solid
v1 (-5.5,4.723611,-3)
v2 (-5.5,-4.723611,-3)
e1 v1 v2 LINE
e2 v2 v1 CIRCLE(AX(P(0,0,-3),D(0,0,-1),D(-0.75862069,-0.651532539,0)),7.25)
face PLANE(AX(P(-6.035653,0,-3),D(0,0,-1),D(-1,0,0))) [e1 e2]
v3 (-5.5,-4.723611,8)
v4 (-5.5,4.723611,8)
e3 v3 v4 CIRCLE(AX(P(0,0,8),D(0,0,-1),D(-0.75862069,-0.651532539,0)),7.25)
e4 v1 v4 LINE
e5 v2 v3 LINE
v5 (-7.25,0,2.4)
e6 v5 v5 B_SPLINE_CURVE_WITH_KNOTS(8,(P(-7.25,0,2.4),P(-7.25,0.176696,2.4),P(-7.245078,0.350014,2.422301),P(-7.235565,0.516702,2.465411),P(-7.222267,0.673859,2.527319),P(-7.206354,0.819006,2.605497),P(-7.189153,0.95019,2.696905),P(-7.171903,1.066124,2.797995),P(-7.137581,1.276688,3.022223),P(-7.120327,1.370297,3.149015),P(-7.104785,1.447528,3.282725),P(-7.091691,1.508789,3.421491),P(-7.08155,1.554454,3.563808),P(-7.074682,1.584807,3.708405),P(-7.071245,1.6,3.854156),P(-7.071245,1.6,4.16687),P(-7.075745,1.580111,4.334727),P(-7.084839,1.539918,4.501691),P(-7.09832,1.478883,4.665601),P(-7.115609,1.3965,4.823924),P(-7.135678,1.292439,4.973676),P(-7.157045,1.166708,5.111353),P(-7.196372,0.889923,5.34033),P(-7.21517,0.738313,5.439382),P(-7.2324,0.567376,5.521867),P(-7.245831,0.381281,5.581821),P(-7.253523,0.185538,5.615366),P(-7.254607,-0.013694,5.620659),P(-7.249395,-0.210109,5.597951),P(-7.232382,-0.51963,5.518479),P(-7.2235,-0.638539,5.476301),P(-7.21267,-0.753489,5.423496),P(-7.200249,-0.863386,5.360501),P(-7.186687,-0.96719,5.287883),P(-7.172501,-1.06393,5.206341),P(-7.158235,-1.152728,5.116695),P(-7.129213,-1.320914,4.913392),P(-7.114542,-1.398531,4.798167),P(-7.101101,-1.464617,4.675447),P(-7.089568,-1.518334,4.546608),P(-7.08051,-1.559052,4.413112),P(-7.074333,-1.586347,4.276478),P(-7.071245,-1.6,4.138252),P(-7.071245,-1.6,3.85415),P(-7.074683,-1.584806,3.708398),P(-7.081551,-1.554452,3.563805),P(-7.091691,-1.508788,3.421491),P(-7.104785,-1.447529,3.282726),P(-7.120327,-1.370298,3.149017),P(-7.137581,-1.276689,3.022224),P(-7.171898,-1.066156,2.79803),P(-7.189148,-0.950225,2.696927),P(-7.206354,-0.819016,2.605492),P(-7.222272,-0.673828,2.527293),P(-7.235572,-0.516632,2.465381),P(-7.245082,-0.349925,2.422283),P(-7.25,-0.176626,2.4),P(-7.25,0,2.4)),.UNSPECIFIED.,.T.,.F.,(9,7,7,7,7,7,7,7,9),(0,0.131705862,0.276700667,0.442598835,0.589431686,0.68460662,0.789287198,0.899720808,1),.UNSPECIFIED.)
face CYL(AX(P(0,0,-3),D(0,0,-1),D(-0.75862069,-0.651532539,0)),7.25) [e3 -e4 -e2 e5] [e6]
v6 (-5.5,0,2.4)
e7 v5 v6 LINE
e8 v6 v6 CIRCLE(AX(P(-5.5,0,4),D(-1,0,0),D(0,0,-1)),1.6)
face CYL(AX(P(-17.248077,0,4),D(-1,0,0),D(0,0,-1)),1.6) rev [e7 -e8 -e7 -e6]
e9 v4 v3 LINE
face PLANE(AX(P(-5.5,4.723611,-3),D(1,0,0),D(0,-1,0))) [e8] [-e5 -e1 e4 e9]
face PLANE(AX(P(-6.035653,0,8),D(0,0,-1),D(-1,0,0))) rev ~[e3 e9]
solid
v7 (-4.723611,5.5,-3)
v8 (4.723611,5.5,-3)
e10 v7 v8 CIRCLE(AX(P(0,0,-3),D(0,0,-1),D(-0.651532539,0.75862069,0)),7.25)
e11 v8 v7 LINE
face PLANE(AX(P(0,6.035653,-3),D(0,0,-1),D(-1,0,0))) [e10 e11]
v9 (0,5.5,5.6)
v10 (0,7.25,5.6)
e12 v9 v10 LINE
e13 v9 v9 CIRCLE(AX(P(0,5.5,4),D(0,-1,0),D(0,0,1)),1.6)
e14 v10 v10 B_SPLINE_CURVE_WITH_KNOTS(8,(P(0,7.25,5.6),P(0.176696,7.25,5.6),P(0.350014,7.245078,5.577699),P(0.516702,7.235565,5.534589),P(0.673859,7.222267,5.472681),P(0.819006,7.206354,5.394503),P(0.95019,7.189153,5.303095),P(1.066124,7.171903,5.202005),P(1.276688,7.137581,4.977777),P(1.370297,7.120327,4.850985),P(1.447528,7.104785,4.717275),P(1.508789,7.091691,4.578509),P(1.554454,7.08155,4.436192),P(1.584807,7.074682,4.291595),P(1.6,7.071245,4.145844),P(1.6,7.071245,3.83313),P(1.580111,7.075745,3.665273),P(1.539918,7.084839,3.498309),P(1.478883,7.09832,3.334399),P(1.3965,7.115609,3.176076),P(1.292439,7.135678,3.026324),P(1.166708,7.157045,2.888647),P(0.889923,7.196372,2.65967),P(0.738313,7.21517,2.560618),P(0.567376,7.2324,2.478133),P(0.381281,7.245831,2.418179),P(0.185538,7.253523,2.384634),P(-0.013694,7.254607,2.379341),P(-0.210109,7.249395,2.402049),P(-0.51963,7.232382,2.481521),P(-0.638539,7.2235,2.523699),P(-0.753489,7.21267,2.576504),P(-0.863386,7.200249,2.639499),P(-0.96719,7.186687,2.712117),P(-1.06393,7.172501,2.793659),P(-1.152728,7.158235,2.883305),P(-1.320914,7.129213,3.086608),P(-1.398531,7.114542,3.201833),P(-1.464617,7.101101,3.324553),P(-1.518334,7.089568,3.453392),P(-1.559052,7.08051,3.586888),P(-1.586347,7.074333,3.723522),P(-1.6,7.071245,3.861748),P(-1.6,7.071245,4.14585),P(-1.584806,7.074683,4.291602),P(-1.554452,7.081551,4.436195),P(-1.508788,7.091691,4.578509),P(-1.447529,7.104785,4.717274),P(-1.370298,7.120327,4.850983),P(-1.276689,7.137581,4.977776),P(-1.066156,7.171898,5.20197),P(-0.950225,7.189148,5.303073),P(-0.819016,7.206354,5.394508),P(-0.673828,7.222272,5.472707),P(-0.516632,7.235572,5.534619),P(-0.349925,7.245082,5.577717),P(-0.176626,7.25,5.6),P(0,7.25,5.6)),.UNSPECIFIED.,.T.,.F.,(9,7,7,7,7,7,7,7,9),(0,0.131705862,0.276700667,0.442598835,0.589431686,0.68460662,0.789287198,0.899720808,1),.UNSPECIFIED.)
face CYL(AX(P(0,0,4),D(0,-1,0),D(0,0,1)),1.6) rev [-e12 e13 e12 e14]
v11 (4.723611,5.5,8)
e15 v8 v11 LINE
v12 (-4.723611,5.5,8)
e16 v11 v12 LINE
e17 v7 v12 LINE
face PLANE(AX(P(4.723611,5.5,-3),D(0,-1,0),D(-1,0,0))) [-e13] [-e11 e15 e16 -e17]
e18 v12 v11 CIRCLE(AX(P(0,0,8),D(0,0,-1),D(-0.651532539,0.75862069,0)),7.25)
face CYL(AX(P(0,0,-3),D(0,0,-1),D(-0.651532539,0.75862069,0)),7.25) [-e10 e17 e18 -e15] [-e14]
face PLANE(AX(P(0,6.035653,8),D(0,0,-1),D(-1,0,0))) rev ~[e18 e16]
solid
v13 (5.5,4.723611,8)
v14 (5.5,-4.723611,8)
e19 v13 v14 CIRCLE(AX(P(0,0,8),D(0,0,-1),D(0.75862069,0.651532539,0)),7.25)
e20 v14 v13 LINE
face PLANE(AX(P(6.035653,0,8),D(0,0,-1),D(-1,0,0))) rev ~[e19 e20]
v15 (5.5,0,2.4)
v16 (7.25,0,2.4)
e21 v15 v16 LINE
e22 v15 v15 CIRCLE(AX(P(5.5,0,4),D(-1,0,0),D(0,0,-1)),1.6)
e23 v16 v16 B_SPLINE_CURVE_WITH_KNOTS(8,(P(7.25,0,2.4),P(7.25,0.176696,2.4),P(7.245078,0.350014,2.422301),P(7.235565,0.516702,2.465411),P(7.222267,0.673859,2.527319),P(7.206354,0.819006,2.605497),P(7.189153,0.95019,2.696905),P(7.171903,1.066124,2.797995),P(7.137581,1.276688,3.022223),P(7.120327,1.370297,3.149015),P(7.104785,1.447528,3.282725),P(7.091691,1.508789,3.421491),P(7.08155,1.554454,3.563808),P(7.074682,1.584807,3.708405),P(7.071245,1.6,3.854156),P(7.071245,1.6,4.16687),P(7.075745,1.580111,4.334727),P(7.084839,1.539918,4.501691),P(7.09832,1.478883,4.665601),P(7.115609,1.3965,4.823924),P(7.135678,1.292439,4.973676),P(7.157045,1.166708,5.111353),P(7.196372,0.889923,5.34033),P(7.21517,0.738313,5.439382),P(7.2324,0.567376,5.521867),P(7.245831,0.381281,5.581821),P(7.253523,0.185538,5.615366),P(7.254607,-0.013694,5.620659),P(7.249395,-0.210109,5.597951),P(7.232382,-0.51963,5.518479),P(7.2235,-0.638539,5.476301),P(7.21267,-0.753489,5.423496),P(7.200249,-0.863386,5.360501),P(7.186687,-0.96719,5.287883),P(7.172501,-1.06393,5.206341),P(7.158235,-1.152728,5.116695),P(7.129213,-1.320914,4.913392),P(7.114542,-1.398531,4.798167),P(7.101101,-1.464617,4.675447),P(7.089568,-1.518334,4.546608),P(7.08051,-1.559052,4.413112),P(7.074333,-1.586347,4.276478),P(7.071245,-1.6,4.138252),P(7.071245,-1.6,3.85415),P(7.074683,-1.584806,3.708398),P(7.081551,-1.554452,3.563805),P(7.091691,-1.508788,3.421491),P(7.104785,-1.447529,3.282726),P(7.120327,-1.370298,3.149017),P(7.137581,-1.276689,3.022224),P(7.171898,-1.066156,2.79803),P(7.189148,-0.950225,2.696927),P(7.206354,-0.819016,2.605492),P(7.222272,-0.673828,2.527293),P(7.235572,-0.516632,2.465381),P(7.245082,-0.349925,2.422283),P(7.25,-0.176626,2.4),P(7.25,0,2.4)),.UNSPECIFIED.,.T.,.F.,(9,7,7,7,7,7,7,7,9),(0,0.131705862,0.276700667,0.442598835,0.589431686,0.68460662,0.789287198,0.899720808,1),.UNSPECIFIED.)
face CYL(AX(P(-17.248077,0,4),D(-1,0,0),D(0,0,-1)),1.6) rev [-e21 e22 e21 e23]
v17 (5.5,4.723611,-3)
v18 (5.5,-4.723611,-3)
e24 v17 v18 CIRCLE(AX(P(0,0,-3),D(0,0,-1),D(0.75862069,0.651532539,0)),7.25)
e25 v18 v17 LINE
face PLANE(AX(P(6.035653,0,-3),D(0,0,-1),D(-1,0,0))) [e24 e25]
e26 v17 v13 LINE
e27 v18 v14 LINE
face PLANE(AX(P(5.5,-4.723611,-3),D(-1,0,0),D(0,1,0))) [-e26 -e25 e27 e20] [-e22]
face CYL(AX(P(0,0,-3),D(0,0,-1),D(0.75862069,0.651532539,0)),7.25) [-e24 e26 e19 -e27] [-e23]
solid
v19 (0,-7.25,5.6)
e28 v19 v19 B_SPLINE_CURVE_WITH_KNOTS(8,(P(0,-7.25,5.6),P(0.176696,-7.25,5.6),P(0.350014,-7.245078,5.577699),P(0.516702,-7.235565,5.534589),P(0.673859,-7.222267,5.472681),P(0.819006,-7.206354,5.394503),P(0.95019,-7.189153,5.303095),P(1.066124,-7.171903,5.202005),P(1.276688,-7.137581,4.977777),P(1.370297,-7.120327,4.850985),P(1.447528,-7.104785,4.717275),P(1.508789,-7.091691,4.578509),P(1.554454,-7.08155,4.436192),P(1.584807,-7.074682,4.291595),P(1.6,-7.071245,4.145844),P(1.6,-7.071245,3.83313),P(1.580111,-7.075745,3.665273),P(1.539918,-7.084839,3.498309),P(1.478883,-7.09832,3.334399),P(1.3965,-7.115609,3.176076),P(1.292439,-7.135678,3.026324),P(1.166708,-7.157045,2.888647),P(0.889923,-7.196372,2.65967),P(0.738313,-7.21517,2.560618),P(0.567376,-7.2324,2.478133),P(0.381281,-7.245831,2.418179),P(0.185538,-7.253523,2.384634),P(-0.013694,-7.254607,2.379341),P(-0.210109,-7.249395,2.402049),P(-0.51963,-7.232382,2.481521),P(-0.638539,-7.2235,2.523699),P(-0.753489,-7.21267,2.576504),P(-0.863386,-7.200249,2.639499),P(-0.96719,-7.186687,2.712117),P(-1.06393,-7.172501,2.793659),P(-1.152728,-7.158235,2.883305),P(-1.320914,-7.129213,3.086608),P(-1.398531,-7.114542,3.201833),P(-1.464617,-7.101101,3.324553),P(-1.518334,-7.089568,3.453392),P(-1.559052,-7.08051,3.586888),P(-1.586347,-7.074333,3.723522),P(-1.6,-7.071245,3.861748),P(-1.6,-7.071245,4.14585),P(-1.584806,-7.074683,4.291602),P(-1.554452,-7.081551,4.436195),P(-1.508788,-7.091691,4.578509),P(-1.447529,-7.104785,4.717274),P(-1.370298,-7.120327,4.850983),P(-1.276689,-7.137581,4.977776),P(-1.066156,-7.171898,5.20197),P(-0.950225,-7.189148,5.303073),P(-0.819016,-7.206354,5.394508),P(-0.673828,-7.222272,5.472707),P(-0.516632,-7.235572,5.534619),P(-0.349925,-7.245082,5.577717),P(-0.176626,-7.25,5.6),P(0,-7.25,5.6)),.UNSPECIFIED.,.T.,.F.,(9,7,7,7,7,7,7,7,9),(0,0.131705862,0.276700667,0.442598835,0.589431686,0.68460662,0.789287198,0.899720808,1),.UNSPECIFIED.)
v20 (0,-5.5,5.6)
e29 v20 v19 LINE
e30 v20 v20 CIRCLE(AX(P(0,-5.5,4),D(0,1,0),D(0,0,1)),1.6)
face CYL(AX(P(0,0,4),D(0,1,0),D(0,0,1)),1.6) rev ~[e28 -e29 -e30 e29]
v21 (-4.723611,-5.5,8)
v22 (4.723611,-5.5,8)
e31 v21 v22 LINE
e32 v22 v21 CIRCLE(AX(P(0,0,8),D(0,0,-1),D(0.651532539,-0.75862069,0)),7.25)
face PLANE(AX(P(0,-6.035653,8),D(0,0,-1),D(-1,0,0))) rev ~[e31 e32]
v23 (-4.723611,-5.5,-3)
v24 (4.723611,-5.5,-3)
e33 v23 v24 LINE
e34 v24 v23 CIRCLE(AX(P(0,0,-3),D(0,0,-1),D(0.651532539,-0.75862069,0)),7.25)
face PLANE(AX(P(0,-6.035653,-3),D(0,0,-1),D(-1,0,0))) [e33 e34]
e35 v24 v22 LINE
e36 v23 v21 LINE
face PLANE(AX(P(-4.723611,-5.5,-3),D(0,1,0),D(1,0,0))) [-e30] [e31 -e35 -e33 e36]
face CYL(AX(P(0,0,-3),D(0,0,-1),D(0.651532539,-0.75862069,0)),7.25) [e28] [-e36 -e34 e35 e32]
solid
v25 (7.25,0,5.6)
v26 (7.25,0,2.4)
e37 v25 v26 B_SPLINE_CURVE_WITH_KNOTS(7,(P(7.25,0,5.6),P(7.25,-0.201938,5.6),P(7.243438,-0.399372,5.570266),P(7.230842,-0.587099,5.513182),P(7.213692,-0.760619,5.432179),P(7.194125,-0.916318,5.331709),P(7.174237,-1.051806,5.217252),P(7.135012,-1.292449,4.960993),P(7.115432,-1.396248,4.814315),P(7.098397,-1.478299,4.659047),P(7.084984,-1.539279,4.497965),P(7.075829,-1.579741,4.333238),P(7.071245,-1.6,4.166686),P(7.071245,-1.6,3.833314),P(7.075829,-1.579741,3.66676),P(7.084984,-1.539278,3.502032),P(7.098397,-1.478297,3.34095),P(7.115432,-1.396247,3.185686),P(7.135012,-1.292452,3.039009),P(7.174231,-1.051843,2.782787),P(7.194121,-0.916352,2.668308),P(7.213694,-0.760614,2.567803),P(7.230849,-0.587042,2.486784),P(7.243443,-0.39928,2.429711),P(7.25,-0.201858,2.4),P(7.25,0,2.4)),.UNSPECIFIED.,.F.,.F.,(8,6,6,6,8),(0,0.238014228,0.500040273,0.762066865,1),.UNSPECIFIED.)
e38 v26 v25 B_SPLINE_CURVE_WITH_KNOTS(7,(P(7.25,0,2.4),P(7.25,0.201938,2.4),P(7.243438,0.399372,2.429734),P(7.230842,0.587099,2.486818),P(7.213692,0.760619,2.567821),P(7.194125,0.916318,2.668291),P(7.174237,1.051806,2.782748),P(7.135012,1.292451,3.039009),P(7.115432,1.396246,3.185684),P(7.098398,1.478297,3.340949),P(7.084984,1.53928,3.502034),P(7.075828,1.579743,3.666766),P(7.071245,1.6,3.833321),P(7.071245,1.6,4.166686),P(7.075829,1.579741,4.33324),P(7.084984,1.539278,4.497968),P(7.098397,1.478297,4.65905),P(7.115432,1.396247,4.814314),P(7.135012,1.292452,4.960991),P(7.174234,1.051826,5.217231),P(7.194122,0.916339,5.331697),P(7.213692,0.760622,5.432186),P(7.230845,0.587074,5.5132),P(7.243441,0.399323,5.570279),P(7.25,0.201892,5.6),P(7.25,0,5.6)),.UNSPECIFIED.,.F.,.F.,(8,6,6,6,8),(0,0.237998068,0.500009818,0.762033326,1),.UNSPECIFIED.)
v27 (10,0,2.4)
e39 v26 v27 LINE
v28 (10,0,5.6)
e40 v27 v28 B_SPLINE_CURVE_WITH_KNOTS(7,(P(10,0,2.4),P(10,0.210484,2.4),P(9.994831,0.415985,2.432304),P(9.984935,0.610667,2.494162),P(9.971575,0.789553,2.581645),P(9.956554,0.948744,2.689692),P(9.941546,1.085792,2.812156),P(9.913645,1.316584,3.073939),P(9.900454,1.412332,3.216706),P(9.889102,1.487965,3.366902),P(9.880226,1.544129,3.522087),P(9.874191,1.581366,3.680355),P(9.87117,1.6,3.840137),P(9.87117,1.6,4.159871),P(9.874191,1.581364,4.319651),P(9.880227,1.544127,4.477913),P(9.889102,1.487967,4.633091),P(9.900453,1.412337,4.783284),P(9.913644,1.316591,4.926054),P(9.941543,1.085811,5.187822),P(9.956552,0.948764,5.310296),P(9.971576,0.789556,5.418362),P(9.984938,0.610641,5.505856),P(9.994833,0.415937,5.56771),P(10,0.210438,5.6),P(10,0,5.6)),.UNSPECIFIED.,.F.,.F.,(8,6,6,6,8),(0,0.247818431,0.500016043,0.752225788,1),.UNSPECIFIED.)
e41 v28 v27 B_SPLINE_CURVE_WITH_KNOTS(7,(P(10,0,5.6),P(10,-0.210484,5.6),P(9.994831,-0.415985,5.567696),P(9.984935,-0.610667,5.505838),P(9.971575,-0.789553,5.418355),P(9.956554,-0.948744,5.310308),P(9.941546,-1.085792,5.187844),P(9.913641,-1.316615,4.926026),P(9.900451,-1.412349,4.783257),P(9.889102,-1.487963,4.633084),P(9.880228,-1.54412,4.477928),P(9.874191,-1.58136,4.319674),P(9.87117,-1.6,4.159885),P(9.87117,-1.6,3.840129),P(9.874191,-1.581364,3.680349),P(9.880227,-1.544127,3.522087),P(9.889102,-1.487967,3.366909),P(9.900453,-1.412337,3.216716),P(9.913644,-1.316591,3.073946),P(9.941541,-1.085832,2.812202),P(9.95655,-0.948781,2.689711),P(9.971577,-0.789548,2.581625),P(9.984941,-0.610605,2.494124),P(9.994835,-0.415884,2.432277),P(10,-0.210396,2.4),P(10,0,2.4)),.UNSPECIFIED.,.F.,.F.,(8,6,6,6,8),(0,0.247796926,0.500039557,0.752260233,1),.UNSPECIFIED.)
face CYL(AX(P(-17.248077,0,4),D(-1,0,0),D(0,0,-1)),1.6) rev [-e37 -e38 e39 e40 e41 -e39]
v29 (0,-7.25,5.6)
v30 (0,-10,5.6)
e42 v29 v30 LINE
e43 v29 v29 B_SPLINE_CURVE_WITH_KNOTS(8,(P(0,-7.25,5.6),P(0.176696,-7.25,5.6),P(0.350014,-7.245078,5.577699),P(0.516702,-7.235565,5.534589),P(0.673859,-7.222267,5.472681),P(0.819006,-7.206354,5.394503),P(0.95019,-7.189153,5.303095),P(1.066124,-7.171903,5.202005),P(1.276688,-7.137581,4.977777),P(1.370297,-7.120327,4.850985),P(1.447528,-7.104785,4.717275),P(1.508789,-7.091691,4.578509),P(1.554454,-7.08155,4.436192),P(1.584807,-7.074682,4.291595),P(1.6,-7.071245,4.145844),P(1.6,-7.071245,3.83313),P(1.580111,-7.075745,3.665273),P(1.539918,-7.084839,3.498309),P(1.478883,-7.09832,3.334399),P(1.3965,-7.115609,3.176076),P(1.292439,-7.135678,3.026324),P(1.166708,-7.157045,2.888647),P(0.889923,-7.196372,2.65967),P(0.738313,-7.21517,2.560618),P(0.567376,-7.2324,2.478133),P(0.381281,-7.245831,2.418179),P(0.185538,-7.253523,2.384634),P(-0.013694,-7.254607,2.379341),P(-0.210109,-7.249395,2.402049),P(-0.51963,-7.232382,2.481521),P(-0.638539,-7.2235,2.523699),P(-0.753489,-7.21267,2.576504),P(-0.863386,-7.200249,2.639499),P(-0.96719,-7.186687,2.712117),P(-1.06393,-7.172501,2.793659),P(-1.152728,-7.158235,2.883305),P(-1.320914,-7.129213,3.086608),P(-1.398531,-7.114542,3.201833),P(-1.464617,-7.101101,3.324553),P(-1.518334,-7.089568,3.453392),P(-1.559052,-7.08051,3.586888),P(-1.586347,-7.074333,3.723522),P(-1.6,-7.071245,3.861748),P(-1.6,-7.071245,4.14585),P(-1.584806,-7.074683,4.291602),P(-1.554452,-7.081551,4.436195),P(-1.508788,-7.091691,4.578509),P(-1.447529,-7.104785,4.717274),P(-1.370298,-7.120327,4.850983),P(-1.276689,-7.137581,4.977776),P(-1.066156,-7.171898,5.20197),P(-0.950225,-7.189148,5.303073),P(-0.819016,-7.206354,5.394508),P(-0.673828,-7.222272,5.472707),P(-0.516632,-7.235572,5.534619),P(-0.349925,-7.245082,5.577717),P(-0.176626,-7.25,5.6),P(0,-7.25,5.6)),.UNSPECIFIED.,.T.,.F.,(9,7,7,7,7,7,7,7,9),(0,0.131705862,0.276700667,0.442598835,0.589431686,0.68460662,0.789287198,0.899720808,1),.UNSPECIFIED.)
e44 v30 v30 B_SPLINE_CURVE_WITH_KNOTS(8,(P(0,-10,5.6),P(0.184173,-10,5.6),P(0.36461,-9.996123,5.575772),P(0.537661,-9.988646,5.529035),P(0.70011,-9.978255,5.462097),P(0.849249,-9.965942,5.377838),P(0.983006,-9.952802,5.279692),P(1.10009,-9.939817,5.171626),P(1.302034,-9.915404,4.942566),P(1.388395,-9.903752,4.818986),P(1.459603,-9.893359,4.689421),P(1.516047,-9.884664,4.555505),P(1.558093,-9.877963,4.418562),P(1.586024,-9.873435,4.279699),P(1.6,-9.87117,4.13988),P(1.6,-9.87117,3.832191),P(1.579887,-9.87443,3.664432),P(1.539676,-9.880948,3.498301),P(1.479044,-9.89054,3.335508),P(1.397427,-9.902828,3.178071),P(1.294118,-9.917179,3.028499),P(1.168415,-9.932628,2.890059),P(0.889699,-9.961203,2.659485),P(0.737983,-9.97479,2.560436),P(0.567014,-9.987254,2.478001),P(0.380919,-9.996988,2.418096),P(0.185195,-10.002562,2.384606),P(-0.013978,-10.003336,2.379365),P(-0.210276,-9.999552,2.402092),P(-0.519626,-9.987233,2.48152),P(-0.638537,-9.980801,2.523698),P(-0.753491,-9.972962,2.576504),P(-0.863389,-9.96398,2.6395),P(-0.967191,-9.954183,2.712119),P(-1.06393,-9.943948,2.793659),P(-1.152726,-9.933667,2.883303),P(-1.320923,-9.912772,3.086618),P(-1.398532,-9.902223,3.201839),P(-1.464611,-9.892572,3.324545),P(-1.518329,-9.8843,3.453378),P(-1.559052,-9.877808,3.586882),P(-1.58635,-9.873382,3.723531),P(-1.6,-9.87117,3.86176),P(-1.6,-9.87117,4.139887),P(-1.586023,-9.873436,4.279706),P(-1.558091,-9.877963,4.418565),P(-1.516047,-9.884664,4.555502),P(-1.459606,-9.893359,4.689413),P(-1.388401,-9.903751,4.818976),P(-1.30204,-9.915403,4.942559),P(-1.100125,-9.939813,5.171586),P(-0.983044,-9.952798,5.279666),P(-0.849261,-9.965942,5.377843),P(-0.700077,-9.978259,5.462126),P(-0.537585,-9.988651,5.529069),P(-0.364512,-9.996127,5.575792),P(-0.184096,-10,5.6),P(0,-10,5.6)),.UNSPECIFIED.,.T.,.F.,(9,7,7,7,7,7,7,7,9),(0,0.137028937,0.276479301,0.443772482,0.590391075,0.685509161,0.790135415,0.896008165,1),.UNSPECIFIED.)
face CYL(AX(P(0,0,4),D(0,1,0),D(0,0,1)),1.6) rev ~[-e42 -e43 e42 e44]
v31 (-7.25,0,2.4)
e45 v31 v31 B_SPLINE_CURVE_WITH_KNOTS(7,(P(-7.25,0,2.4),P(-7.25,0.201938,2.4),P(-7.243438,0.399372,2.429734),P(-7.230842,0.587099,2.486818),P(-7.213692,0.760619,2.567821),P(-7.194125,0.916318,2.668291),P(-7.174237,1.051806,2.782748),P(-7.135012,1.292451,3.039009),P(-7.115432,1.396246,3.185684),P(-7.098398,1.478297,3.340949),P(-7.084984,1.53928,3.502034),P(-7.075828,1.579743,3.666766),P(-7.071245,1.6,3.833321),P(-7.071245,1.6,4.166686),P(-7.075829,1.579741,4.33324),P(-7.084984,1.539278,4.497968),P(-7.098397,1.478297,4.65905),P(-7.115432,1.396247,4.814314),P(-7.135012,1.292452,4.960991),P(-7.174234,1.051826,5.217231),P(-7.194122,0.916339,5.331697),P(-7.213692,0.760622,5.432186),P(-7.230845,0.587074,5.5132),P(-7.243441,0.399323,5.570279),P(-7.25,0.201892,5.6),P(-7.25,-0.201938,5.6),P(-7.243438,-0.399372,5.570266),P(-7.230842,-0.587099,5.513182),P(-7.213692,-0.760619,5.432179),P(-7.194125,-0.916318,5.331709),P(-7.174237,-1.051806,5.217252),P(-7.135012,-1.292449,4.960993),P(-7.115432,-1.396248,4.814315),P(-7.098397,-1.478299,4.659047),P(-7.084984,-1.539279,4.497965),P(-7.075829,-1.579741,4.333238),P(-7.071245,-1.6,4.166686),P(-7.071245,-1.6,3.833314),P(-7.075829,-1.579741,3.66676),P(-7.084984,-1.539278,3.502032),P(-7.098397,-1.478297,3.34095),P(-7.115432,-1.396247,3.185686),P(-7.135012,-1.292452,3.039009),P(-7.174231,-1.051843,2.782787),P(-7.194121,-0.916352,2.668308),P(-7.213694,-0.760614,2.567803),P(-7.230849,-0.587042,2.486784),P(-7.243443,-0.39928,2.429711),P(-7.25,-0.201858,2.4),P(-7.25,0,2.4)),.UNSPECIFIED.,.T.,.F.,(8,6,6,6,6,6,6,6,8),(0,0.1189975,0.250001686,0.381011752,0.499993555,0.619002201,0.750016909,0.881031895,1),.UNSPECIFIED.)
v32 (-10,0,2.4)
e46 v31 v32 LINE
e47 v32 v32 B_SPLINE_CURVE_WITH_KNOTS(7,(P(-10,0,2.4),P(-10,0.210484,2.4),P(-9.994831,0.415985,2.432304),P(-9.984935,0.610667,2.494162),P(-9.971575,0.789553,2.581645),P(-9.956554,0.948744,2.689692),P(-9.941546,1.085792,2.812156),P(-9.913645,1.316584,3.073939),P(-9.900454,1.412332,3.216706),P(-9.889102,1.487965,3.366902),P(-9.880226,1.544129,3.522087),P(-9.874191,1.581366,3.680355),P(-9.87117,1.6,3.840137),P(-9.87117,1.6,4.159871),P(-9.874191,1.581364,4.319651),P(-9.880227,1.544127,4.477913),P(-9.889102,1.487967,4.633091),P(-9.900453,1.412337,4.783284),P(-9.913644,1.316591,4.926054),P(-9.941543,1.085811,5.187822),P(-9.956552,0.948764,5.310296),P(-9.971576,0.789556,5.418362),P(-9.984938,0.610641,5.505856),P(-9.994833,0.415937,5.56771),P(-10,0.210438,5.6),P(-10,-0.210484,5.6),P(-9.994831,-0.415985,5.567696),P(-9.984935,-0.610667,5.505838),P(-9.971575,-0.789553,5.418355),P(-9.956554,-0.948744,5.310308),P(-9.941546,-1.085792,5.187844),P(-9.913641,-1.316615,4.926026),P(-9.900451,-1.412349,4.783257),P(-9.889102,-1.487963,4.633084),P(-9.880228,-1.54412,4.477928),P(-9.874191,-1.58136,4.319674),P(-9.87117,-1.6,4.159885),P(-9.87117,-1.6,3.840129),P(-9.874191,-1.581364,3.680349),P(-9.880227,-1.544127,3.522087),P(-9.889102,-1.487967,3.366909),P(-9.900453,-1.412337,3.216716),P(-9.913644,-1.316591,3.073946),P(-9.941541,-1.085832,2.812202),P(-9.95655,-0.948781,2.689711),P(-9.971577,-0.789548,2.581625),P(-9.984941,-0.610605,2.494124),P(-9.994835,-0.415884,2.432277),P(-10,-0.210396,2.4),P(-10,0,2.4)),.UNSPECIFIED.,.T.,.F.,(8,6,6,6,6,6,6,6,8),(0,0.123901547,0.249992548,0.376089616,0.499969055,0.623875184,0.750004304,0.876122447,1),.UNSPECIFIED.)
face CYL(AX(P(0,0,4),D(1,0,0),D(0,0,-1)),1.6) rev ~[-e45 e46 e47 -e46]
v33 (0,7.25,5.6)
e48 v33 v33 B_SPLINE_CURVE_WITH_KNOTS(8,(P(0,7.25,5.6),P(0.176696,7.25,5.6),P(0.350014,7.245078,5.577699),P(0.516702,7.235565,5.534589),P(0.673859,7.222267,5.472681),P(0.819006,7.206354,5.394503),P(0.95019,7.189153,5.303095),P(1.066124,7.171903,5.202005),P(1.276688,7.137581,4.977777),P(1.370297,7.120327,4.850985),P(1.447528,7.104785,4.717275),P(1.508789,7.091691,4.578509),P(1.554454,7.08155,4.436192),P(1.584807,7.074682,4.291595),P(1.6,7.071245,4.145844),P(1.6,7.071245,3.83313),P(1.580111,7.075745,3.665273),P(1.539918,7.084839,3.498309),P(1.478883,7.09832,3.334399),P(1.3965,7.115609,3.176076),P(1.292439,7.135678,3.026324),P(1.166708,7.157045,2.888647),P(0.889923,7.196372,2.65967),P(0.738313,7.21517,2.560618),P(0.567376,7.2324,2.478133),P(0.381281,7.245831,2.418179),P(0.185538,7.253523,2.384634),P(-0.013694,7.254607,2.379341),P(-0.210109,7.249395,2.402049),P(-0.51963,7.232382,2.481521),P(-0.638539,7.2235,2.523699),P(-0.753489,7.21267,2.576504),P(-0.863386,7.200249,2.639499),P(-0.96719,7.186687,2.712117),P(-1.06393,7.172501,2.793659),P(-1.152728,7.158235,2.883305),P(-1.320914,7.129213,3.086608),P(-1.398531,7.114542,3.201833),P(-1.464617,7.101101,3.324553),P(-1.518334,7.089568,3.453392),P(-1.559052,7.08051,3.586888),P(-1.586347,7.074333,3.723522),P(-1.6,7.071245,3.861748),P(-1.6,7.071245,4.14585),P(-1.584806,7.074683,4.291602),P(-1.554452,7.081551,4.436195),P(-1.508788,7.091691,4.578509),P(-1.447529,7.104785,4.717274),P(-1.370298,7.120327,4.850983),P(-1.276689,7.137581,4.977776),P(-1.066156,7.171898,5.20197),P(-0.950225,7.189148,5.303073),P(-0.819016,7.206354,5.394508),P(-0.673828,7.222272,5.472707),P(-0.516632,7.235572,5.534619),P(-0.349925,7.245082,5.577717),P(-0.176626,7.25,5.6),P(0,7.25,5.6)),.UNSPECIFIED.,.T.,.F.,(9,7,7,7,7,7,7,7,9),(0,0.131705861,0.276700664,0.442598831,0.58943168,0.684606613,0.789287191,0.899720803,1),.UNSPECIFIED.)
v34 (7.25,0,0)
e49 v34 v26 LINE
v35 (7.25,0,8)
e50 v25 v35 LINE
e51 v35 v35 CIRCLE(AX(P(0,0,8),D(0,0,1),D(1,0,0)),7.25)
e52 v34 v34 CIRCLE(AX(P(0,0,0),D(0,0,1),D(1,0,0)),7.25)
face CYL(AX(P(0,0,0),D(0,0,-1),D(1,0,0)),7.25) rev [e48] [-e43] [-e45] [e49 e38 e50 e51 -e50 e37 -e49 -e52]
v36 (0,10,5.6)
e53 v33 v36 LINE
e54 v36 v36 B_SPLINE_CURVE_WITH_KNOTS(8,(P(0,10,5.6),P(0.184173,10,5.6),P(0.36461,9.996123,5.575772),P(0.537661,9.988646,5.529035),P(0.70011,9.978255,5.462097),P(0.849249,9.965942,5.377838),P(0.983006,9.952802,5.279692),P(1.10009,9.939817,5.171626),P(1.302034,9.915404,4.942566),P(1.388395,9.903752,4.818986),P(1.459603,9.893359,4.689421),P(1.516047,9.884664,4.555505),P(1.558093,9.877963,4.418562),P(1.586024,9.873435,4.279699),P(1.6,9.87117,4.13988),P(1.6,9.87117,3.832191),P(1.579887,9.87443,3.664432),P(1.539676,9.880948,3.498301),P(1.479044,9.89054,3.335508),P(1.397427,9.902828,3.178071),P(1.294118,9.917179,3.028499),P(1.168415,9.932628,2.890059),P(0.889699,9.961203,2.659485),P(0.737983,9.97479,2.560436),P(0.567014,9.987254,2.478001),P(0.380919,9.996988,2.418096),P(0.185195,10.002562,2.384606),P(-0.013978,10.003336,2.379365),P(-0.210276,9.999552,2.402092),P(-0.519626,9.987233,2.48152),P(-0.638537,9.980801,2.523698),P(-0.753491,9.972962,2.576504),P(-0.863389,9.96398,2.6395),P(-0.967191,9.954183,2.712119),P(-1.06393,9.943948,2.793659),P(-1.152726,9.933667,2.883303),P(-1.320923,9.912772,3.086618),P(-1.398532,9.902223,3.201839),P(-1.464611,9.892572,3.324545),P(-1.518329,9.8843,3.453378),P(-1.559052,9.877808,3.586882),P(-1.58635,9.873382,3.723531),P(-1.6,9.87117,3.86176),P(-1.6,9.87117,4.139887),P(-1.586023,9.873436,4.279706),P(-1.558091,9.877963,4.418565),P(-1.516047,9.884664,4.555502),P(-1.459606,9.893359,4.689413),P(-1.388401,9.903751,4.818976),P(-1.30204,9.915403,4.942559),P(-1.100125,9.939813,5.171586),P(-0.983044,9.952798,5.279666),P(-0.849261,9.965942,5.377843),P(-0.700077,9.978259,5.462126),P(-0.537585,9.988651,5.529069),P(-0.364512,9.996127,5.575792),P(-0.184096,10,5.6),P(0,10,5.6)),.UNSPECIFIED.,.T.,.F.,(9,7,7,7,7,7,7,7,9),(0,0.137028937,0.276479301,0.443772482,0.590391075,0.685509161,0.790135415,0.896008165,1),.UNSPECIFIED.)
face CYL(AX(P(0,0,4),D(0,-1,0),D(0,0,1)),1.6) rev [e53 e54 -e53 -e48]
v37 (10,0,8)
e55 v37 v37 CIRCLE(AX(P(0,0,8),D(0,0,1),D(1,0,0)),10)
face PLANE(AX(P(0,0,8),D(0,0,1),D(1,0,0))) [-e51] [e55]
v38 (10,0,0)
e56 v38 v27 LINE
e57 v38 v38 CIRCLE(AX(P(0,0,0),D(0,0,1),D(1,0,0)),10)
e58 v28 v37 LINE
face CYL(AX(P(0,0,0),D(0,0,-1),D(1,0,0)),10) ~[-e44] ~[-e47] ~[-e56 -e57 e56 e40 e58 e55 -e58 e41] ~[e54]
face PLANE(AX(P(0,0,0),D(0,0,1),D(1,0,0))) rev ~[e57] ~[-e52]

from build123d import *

# Parameters (mm, degrees)
SKETCH_1_R               = 10
SKETCH_1_R_2             = 7.25
EXTRUDE_1_DEPTH          = 8
SKETCH_2_R               = 1.6
CUT_EXTRUDE_1_DEPTH      = 17.248076809
SKETCH_3_R               = 1.6
CUT_EXTRUDE_2_DEPTH      = 17.248076998
EXTRUDE_2_DEPTH          = 8
EXTRUDE_2_DEPTH_BACK     = 3
EXTRUDE_2_2_DEPTH        = 8
EXTRUDE_2_2_DEPTH_BACK   = 3
EXTRUDE_2_3_DEPTH        = 8
EXTRUDE_2_3_DEPTH_BACK   = 3
EXTRUDE_2_4_DEPTH        = 8
EXTRUDE_2_4_DEPTH_BACK   = 3
SKETCH_2_2_R             = 1.6
CUT_EXTRUDE_3_DEPTH      = 17.248076998
CUT_EXTRUDE_5_DEPTH      = 17.248076998
CUT_EXTRUDE_5_DEPTH_BACK = 17.248076998
SKETCH_3_3_R             = 1.6
SKETCH_2_3_R             = 1.6
CUT_EXTRUDE_6_DEPTH      = 17.248076998


with BuildPart() as part:
    # 草图1 → 凸台-拉伸1 (new body)
    with BuildSketch(Plane.XY):
        Circle(SKETCH_1_R)
        Circle(SKETCH_1_R_2, mode=Mode.SUBTRACT)
    extrude(amount=EXTRUDE_1_DEPTH)

    # 草图2 → 切除-拉伸1 (cut, through all)
    with BuildSketch(Plane(origin=(0, 0, 0), x_dir=(1, 0, 0), z_dir=(0, 1, 0))):
        with Locations((0, -4)):
            Circle(SKETCH_2_R)
    extrude(amount=-CUT_EXTRUDE_1_DEPTH, mode=Mode.SUBTRACT)

    # 草图3 → 切除-拉伸2 (cut, through all)
    with BuildSketch(Plane(origin=(0, 0, 0), x_dir=(0, 0, -1), z_dir=(1, 0, 0))):
        with Locations((-4, 0)):
            Circle(SKETCH_3_R)
    extrude(amount=-CUT_EXTRUDE_2_DEPTH, mode=Mode.SUBTRACT)


with BuildPart() as body_2:
    # 草图5 → 凸台-拉伸2 (new, two sides: drawn at the far end of the back side and taken through both)
    with BuildSketch(Plane.XY.offset(-EXTRUDE_2_DEPTH_BACK)):
        with BuildLine():
            Line((4.723610907, 5.5), (-4.723610907, 5.5))
            ThreePointArc((-4.723610907, 5.5), (0, 7.25), (4.723610907, 5.5))
        make_face()
    extrude(amount=EXTRUDE_2_DEPTH + EXTRUDE_2_DEPTH_BACK)


with BuildPart() as body_3:
    # 草图5 → Extrude 2 2 (new, two sides: drawn at the far end of the back side and taken through both)
    with BuildSketch(Plane.XY.offset(-EXTRUDE_2_2_DEPTH_BACK)):
        with BuildLine():
            Line((5.5, -4.723610907), (5.5, 4.723610907))
            ThreePointArc((5.5, 4.723610907), (7.25, 0), (5.5, -4.723610907))
        make_face()
    extrude(amount=EXTRUDE_2_2_DEPTH + EXTRUDE_2_2_DEPTH_BACK)


with BuildPart() as body_4:
    # 草图5 → Extrude 2 3 (new, two sides: drawn at the far end of the back side and taken through both)
    with BuildSketch(Plane.XY.offset(-EXTRUDE_2_3_DEPTH_BACK)):
        with BuildLine():
            Line((-4.723610907, -5.5), (4.723610907, -5.5))
            ThreePointArc((4.723610907, -5.5), (0, -7.25), (-4.723610907, -5.5))
        make_face()
    extrude(amount=EXTRUDE_2_3_DEPTH + EXTRUDE_2_3_DEPTH_BACK)

    # 草图2<2> → 切除-拉伸3 (cut, through all)
    with BuildSketch(Plane(origin=(0, 0, 0), x_dir=(1, 0, 0), z_dir=(0, 1, 0))):
        with Locations((0, -4)):
            Circle(SKETCH_2_2_R)
    extrude(amount=-CUT_EXTRUDE_3_DEPTH, mode=Mode.SUBTRACT)


with BuildPart() as body_5:
    # 草图5 → Extrude 2 4 (new, two sides: drawn at the far end of the back side and taken through both)
    with BuildSketch(Plane.XY.offset(-EXTRUDE_2_4_DEPTH_BACK)):
        with BuildLine():
            Line((-5.5, 4.723610907), (-5.5, -4.723610907))
            ThreePointArc((-5.5, -4.723610907), (-7.25, 0), (-5.5, 4.723610907))
        make_face()
    extrude(amount=EXTRUDE_2_4_DEPTH + EXTRUDE_2_4_DEPTH_BACK)


with BuildPart() as cut_extrude_5_tool:
    # 草图3<3> → 切除-拉伸5 (new, two sides: drawn at the far end of the back side and taken through both)
    with BuildSketch(Plane(origin=(0, 0, 0), x_dir=(0, 0, -1), z_dir=(1, 0, 0)).offset(-CUT_EXTRUDE_5_DEPTH_BACK)):
        with Locations((-4, 0)):
            Circle(SKETCH_3_3_R)
    extrude(amount=CUT_EXTRUDE_5_DEPTH + CUT_EXTRUDE_5_DEPTH_BACK)


with BuildPart() as part_1:
    add(part.part)

    # 切除-拉伸5: cut by cut_extrude_5_tool
    add(cut_extrude_5_tool.part, mode=Mode.SUBTRACT)


with BuildPart() as body_3_1:
    add(body_3.part)

    # 切除-拉伸5: cut by cut_extrude_5_tool
    add(cut_extrude_5_tool.part, mode=Mode.SUBTRACT)


with BuildPart() as body_5_1:
    add(body_5.part)

    # 切除-拉伸5: cut by cut_extrude_5_tool
    add(cut_extrude_5_tool.part, mode=Mode.SUBTRACT)


with BuildPart() as cut_extrude_6_tool:
    # 草图2<3> → 切除-拉伸6 (new, through all)
    with BuildSketch(Plane(origin=(0, 0, 0), x_dir=(1, 0, 0), z_dir=(0, 1, 0))):
        with Locations((0, -4)):
            Circle(SKETCH_2_3_R)
    extrude(amount=CUT_EXTRUDE_6_DEPTH)


with BuildPart() as part_2:
    add(part_1.part)

    # 切除-拉伸6: cut by cut_extrude_6_tool
    add(cut_extrude_6_tool.part, mode=Mode.SUBTRACT)


with BuildPart() as body_2_1:
    add(body_2.part)

    # 切除-拉伸6: cut by cut_extrude_6_tool
    add(cut_extrude_6_tool.part, mode=Mode.SUBTRACT)


solid = Compound([body_4.part, body_3_1.part, body_5_1.part, part_2.part, body_2_1.part])
